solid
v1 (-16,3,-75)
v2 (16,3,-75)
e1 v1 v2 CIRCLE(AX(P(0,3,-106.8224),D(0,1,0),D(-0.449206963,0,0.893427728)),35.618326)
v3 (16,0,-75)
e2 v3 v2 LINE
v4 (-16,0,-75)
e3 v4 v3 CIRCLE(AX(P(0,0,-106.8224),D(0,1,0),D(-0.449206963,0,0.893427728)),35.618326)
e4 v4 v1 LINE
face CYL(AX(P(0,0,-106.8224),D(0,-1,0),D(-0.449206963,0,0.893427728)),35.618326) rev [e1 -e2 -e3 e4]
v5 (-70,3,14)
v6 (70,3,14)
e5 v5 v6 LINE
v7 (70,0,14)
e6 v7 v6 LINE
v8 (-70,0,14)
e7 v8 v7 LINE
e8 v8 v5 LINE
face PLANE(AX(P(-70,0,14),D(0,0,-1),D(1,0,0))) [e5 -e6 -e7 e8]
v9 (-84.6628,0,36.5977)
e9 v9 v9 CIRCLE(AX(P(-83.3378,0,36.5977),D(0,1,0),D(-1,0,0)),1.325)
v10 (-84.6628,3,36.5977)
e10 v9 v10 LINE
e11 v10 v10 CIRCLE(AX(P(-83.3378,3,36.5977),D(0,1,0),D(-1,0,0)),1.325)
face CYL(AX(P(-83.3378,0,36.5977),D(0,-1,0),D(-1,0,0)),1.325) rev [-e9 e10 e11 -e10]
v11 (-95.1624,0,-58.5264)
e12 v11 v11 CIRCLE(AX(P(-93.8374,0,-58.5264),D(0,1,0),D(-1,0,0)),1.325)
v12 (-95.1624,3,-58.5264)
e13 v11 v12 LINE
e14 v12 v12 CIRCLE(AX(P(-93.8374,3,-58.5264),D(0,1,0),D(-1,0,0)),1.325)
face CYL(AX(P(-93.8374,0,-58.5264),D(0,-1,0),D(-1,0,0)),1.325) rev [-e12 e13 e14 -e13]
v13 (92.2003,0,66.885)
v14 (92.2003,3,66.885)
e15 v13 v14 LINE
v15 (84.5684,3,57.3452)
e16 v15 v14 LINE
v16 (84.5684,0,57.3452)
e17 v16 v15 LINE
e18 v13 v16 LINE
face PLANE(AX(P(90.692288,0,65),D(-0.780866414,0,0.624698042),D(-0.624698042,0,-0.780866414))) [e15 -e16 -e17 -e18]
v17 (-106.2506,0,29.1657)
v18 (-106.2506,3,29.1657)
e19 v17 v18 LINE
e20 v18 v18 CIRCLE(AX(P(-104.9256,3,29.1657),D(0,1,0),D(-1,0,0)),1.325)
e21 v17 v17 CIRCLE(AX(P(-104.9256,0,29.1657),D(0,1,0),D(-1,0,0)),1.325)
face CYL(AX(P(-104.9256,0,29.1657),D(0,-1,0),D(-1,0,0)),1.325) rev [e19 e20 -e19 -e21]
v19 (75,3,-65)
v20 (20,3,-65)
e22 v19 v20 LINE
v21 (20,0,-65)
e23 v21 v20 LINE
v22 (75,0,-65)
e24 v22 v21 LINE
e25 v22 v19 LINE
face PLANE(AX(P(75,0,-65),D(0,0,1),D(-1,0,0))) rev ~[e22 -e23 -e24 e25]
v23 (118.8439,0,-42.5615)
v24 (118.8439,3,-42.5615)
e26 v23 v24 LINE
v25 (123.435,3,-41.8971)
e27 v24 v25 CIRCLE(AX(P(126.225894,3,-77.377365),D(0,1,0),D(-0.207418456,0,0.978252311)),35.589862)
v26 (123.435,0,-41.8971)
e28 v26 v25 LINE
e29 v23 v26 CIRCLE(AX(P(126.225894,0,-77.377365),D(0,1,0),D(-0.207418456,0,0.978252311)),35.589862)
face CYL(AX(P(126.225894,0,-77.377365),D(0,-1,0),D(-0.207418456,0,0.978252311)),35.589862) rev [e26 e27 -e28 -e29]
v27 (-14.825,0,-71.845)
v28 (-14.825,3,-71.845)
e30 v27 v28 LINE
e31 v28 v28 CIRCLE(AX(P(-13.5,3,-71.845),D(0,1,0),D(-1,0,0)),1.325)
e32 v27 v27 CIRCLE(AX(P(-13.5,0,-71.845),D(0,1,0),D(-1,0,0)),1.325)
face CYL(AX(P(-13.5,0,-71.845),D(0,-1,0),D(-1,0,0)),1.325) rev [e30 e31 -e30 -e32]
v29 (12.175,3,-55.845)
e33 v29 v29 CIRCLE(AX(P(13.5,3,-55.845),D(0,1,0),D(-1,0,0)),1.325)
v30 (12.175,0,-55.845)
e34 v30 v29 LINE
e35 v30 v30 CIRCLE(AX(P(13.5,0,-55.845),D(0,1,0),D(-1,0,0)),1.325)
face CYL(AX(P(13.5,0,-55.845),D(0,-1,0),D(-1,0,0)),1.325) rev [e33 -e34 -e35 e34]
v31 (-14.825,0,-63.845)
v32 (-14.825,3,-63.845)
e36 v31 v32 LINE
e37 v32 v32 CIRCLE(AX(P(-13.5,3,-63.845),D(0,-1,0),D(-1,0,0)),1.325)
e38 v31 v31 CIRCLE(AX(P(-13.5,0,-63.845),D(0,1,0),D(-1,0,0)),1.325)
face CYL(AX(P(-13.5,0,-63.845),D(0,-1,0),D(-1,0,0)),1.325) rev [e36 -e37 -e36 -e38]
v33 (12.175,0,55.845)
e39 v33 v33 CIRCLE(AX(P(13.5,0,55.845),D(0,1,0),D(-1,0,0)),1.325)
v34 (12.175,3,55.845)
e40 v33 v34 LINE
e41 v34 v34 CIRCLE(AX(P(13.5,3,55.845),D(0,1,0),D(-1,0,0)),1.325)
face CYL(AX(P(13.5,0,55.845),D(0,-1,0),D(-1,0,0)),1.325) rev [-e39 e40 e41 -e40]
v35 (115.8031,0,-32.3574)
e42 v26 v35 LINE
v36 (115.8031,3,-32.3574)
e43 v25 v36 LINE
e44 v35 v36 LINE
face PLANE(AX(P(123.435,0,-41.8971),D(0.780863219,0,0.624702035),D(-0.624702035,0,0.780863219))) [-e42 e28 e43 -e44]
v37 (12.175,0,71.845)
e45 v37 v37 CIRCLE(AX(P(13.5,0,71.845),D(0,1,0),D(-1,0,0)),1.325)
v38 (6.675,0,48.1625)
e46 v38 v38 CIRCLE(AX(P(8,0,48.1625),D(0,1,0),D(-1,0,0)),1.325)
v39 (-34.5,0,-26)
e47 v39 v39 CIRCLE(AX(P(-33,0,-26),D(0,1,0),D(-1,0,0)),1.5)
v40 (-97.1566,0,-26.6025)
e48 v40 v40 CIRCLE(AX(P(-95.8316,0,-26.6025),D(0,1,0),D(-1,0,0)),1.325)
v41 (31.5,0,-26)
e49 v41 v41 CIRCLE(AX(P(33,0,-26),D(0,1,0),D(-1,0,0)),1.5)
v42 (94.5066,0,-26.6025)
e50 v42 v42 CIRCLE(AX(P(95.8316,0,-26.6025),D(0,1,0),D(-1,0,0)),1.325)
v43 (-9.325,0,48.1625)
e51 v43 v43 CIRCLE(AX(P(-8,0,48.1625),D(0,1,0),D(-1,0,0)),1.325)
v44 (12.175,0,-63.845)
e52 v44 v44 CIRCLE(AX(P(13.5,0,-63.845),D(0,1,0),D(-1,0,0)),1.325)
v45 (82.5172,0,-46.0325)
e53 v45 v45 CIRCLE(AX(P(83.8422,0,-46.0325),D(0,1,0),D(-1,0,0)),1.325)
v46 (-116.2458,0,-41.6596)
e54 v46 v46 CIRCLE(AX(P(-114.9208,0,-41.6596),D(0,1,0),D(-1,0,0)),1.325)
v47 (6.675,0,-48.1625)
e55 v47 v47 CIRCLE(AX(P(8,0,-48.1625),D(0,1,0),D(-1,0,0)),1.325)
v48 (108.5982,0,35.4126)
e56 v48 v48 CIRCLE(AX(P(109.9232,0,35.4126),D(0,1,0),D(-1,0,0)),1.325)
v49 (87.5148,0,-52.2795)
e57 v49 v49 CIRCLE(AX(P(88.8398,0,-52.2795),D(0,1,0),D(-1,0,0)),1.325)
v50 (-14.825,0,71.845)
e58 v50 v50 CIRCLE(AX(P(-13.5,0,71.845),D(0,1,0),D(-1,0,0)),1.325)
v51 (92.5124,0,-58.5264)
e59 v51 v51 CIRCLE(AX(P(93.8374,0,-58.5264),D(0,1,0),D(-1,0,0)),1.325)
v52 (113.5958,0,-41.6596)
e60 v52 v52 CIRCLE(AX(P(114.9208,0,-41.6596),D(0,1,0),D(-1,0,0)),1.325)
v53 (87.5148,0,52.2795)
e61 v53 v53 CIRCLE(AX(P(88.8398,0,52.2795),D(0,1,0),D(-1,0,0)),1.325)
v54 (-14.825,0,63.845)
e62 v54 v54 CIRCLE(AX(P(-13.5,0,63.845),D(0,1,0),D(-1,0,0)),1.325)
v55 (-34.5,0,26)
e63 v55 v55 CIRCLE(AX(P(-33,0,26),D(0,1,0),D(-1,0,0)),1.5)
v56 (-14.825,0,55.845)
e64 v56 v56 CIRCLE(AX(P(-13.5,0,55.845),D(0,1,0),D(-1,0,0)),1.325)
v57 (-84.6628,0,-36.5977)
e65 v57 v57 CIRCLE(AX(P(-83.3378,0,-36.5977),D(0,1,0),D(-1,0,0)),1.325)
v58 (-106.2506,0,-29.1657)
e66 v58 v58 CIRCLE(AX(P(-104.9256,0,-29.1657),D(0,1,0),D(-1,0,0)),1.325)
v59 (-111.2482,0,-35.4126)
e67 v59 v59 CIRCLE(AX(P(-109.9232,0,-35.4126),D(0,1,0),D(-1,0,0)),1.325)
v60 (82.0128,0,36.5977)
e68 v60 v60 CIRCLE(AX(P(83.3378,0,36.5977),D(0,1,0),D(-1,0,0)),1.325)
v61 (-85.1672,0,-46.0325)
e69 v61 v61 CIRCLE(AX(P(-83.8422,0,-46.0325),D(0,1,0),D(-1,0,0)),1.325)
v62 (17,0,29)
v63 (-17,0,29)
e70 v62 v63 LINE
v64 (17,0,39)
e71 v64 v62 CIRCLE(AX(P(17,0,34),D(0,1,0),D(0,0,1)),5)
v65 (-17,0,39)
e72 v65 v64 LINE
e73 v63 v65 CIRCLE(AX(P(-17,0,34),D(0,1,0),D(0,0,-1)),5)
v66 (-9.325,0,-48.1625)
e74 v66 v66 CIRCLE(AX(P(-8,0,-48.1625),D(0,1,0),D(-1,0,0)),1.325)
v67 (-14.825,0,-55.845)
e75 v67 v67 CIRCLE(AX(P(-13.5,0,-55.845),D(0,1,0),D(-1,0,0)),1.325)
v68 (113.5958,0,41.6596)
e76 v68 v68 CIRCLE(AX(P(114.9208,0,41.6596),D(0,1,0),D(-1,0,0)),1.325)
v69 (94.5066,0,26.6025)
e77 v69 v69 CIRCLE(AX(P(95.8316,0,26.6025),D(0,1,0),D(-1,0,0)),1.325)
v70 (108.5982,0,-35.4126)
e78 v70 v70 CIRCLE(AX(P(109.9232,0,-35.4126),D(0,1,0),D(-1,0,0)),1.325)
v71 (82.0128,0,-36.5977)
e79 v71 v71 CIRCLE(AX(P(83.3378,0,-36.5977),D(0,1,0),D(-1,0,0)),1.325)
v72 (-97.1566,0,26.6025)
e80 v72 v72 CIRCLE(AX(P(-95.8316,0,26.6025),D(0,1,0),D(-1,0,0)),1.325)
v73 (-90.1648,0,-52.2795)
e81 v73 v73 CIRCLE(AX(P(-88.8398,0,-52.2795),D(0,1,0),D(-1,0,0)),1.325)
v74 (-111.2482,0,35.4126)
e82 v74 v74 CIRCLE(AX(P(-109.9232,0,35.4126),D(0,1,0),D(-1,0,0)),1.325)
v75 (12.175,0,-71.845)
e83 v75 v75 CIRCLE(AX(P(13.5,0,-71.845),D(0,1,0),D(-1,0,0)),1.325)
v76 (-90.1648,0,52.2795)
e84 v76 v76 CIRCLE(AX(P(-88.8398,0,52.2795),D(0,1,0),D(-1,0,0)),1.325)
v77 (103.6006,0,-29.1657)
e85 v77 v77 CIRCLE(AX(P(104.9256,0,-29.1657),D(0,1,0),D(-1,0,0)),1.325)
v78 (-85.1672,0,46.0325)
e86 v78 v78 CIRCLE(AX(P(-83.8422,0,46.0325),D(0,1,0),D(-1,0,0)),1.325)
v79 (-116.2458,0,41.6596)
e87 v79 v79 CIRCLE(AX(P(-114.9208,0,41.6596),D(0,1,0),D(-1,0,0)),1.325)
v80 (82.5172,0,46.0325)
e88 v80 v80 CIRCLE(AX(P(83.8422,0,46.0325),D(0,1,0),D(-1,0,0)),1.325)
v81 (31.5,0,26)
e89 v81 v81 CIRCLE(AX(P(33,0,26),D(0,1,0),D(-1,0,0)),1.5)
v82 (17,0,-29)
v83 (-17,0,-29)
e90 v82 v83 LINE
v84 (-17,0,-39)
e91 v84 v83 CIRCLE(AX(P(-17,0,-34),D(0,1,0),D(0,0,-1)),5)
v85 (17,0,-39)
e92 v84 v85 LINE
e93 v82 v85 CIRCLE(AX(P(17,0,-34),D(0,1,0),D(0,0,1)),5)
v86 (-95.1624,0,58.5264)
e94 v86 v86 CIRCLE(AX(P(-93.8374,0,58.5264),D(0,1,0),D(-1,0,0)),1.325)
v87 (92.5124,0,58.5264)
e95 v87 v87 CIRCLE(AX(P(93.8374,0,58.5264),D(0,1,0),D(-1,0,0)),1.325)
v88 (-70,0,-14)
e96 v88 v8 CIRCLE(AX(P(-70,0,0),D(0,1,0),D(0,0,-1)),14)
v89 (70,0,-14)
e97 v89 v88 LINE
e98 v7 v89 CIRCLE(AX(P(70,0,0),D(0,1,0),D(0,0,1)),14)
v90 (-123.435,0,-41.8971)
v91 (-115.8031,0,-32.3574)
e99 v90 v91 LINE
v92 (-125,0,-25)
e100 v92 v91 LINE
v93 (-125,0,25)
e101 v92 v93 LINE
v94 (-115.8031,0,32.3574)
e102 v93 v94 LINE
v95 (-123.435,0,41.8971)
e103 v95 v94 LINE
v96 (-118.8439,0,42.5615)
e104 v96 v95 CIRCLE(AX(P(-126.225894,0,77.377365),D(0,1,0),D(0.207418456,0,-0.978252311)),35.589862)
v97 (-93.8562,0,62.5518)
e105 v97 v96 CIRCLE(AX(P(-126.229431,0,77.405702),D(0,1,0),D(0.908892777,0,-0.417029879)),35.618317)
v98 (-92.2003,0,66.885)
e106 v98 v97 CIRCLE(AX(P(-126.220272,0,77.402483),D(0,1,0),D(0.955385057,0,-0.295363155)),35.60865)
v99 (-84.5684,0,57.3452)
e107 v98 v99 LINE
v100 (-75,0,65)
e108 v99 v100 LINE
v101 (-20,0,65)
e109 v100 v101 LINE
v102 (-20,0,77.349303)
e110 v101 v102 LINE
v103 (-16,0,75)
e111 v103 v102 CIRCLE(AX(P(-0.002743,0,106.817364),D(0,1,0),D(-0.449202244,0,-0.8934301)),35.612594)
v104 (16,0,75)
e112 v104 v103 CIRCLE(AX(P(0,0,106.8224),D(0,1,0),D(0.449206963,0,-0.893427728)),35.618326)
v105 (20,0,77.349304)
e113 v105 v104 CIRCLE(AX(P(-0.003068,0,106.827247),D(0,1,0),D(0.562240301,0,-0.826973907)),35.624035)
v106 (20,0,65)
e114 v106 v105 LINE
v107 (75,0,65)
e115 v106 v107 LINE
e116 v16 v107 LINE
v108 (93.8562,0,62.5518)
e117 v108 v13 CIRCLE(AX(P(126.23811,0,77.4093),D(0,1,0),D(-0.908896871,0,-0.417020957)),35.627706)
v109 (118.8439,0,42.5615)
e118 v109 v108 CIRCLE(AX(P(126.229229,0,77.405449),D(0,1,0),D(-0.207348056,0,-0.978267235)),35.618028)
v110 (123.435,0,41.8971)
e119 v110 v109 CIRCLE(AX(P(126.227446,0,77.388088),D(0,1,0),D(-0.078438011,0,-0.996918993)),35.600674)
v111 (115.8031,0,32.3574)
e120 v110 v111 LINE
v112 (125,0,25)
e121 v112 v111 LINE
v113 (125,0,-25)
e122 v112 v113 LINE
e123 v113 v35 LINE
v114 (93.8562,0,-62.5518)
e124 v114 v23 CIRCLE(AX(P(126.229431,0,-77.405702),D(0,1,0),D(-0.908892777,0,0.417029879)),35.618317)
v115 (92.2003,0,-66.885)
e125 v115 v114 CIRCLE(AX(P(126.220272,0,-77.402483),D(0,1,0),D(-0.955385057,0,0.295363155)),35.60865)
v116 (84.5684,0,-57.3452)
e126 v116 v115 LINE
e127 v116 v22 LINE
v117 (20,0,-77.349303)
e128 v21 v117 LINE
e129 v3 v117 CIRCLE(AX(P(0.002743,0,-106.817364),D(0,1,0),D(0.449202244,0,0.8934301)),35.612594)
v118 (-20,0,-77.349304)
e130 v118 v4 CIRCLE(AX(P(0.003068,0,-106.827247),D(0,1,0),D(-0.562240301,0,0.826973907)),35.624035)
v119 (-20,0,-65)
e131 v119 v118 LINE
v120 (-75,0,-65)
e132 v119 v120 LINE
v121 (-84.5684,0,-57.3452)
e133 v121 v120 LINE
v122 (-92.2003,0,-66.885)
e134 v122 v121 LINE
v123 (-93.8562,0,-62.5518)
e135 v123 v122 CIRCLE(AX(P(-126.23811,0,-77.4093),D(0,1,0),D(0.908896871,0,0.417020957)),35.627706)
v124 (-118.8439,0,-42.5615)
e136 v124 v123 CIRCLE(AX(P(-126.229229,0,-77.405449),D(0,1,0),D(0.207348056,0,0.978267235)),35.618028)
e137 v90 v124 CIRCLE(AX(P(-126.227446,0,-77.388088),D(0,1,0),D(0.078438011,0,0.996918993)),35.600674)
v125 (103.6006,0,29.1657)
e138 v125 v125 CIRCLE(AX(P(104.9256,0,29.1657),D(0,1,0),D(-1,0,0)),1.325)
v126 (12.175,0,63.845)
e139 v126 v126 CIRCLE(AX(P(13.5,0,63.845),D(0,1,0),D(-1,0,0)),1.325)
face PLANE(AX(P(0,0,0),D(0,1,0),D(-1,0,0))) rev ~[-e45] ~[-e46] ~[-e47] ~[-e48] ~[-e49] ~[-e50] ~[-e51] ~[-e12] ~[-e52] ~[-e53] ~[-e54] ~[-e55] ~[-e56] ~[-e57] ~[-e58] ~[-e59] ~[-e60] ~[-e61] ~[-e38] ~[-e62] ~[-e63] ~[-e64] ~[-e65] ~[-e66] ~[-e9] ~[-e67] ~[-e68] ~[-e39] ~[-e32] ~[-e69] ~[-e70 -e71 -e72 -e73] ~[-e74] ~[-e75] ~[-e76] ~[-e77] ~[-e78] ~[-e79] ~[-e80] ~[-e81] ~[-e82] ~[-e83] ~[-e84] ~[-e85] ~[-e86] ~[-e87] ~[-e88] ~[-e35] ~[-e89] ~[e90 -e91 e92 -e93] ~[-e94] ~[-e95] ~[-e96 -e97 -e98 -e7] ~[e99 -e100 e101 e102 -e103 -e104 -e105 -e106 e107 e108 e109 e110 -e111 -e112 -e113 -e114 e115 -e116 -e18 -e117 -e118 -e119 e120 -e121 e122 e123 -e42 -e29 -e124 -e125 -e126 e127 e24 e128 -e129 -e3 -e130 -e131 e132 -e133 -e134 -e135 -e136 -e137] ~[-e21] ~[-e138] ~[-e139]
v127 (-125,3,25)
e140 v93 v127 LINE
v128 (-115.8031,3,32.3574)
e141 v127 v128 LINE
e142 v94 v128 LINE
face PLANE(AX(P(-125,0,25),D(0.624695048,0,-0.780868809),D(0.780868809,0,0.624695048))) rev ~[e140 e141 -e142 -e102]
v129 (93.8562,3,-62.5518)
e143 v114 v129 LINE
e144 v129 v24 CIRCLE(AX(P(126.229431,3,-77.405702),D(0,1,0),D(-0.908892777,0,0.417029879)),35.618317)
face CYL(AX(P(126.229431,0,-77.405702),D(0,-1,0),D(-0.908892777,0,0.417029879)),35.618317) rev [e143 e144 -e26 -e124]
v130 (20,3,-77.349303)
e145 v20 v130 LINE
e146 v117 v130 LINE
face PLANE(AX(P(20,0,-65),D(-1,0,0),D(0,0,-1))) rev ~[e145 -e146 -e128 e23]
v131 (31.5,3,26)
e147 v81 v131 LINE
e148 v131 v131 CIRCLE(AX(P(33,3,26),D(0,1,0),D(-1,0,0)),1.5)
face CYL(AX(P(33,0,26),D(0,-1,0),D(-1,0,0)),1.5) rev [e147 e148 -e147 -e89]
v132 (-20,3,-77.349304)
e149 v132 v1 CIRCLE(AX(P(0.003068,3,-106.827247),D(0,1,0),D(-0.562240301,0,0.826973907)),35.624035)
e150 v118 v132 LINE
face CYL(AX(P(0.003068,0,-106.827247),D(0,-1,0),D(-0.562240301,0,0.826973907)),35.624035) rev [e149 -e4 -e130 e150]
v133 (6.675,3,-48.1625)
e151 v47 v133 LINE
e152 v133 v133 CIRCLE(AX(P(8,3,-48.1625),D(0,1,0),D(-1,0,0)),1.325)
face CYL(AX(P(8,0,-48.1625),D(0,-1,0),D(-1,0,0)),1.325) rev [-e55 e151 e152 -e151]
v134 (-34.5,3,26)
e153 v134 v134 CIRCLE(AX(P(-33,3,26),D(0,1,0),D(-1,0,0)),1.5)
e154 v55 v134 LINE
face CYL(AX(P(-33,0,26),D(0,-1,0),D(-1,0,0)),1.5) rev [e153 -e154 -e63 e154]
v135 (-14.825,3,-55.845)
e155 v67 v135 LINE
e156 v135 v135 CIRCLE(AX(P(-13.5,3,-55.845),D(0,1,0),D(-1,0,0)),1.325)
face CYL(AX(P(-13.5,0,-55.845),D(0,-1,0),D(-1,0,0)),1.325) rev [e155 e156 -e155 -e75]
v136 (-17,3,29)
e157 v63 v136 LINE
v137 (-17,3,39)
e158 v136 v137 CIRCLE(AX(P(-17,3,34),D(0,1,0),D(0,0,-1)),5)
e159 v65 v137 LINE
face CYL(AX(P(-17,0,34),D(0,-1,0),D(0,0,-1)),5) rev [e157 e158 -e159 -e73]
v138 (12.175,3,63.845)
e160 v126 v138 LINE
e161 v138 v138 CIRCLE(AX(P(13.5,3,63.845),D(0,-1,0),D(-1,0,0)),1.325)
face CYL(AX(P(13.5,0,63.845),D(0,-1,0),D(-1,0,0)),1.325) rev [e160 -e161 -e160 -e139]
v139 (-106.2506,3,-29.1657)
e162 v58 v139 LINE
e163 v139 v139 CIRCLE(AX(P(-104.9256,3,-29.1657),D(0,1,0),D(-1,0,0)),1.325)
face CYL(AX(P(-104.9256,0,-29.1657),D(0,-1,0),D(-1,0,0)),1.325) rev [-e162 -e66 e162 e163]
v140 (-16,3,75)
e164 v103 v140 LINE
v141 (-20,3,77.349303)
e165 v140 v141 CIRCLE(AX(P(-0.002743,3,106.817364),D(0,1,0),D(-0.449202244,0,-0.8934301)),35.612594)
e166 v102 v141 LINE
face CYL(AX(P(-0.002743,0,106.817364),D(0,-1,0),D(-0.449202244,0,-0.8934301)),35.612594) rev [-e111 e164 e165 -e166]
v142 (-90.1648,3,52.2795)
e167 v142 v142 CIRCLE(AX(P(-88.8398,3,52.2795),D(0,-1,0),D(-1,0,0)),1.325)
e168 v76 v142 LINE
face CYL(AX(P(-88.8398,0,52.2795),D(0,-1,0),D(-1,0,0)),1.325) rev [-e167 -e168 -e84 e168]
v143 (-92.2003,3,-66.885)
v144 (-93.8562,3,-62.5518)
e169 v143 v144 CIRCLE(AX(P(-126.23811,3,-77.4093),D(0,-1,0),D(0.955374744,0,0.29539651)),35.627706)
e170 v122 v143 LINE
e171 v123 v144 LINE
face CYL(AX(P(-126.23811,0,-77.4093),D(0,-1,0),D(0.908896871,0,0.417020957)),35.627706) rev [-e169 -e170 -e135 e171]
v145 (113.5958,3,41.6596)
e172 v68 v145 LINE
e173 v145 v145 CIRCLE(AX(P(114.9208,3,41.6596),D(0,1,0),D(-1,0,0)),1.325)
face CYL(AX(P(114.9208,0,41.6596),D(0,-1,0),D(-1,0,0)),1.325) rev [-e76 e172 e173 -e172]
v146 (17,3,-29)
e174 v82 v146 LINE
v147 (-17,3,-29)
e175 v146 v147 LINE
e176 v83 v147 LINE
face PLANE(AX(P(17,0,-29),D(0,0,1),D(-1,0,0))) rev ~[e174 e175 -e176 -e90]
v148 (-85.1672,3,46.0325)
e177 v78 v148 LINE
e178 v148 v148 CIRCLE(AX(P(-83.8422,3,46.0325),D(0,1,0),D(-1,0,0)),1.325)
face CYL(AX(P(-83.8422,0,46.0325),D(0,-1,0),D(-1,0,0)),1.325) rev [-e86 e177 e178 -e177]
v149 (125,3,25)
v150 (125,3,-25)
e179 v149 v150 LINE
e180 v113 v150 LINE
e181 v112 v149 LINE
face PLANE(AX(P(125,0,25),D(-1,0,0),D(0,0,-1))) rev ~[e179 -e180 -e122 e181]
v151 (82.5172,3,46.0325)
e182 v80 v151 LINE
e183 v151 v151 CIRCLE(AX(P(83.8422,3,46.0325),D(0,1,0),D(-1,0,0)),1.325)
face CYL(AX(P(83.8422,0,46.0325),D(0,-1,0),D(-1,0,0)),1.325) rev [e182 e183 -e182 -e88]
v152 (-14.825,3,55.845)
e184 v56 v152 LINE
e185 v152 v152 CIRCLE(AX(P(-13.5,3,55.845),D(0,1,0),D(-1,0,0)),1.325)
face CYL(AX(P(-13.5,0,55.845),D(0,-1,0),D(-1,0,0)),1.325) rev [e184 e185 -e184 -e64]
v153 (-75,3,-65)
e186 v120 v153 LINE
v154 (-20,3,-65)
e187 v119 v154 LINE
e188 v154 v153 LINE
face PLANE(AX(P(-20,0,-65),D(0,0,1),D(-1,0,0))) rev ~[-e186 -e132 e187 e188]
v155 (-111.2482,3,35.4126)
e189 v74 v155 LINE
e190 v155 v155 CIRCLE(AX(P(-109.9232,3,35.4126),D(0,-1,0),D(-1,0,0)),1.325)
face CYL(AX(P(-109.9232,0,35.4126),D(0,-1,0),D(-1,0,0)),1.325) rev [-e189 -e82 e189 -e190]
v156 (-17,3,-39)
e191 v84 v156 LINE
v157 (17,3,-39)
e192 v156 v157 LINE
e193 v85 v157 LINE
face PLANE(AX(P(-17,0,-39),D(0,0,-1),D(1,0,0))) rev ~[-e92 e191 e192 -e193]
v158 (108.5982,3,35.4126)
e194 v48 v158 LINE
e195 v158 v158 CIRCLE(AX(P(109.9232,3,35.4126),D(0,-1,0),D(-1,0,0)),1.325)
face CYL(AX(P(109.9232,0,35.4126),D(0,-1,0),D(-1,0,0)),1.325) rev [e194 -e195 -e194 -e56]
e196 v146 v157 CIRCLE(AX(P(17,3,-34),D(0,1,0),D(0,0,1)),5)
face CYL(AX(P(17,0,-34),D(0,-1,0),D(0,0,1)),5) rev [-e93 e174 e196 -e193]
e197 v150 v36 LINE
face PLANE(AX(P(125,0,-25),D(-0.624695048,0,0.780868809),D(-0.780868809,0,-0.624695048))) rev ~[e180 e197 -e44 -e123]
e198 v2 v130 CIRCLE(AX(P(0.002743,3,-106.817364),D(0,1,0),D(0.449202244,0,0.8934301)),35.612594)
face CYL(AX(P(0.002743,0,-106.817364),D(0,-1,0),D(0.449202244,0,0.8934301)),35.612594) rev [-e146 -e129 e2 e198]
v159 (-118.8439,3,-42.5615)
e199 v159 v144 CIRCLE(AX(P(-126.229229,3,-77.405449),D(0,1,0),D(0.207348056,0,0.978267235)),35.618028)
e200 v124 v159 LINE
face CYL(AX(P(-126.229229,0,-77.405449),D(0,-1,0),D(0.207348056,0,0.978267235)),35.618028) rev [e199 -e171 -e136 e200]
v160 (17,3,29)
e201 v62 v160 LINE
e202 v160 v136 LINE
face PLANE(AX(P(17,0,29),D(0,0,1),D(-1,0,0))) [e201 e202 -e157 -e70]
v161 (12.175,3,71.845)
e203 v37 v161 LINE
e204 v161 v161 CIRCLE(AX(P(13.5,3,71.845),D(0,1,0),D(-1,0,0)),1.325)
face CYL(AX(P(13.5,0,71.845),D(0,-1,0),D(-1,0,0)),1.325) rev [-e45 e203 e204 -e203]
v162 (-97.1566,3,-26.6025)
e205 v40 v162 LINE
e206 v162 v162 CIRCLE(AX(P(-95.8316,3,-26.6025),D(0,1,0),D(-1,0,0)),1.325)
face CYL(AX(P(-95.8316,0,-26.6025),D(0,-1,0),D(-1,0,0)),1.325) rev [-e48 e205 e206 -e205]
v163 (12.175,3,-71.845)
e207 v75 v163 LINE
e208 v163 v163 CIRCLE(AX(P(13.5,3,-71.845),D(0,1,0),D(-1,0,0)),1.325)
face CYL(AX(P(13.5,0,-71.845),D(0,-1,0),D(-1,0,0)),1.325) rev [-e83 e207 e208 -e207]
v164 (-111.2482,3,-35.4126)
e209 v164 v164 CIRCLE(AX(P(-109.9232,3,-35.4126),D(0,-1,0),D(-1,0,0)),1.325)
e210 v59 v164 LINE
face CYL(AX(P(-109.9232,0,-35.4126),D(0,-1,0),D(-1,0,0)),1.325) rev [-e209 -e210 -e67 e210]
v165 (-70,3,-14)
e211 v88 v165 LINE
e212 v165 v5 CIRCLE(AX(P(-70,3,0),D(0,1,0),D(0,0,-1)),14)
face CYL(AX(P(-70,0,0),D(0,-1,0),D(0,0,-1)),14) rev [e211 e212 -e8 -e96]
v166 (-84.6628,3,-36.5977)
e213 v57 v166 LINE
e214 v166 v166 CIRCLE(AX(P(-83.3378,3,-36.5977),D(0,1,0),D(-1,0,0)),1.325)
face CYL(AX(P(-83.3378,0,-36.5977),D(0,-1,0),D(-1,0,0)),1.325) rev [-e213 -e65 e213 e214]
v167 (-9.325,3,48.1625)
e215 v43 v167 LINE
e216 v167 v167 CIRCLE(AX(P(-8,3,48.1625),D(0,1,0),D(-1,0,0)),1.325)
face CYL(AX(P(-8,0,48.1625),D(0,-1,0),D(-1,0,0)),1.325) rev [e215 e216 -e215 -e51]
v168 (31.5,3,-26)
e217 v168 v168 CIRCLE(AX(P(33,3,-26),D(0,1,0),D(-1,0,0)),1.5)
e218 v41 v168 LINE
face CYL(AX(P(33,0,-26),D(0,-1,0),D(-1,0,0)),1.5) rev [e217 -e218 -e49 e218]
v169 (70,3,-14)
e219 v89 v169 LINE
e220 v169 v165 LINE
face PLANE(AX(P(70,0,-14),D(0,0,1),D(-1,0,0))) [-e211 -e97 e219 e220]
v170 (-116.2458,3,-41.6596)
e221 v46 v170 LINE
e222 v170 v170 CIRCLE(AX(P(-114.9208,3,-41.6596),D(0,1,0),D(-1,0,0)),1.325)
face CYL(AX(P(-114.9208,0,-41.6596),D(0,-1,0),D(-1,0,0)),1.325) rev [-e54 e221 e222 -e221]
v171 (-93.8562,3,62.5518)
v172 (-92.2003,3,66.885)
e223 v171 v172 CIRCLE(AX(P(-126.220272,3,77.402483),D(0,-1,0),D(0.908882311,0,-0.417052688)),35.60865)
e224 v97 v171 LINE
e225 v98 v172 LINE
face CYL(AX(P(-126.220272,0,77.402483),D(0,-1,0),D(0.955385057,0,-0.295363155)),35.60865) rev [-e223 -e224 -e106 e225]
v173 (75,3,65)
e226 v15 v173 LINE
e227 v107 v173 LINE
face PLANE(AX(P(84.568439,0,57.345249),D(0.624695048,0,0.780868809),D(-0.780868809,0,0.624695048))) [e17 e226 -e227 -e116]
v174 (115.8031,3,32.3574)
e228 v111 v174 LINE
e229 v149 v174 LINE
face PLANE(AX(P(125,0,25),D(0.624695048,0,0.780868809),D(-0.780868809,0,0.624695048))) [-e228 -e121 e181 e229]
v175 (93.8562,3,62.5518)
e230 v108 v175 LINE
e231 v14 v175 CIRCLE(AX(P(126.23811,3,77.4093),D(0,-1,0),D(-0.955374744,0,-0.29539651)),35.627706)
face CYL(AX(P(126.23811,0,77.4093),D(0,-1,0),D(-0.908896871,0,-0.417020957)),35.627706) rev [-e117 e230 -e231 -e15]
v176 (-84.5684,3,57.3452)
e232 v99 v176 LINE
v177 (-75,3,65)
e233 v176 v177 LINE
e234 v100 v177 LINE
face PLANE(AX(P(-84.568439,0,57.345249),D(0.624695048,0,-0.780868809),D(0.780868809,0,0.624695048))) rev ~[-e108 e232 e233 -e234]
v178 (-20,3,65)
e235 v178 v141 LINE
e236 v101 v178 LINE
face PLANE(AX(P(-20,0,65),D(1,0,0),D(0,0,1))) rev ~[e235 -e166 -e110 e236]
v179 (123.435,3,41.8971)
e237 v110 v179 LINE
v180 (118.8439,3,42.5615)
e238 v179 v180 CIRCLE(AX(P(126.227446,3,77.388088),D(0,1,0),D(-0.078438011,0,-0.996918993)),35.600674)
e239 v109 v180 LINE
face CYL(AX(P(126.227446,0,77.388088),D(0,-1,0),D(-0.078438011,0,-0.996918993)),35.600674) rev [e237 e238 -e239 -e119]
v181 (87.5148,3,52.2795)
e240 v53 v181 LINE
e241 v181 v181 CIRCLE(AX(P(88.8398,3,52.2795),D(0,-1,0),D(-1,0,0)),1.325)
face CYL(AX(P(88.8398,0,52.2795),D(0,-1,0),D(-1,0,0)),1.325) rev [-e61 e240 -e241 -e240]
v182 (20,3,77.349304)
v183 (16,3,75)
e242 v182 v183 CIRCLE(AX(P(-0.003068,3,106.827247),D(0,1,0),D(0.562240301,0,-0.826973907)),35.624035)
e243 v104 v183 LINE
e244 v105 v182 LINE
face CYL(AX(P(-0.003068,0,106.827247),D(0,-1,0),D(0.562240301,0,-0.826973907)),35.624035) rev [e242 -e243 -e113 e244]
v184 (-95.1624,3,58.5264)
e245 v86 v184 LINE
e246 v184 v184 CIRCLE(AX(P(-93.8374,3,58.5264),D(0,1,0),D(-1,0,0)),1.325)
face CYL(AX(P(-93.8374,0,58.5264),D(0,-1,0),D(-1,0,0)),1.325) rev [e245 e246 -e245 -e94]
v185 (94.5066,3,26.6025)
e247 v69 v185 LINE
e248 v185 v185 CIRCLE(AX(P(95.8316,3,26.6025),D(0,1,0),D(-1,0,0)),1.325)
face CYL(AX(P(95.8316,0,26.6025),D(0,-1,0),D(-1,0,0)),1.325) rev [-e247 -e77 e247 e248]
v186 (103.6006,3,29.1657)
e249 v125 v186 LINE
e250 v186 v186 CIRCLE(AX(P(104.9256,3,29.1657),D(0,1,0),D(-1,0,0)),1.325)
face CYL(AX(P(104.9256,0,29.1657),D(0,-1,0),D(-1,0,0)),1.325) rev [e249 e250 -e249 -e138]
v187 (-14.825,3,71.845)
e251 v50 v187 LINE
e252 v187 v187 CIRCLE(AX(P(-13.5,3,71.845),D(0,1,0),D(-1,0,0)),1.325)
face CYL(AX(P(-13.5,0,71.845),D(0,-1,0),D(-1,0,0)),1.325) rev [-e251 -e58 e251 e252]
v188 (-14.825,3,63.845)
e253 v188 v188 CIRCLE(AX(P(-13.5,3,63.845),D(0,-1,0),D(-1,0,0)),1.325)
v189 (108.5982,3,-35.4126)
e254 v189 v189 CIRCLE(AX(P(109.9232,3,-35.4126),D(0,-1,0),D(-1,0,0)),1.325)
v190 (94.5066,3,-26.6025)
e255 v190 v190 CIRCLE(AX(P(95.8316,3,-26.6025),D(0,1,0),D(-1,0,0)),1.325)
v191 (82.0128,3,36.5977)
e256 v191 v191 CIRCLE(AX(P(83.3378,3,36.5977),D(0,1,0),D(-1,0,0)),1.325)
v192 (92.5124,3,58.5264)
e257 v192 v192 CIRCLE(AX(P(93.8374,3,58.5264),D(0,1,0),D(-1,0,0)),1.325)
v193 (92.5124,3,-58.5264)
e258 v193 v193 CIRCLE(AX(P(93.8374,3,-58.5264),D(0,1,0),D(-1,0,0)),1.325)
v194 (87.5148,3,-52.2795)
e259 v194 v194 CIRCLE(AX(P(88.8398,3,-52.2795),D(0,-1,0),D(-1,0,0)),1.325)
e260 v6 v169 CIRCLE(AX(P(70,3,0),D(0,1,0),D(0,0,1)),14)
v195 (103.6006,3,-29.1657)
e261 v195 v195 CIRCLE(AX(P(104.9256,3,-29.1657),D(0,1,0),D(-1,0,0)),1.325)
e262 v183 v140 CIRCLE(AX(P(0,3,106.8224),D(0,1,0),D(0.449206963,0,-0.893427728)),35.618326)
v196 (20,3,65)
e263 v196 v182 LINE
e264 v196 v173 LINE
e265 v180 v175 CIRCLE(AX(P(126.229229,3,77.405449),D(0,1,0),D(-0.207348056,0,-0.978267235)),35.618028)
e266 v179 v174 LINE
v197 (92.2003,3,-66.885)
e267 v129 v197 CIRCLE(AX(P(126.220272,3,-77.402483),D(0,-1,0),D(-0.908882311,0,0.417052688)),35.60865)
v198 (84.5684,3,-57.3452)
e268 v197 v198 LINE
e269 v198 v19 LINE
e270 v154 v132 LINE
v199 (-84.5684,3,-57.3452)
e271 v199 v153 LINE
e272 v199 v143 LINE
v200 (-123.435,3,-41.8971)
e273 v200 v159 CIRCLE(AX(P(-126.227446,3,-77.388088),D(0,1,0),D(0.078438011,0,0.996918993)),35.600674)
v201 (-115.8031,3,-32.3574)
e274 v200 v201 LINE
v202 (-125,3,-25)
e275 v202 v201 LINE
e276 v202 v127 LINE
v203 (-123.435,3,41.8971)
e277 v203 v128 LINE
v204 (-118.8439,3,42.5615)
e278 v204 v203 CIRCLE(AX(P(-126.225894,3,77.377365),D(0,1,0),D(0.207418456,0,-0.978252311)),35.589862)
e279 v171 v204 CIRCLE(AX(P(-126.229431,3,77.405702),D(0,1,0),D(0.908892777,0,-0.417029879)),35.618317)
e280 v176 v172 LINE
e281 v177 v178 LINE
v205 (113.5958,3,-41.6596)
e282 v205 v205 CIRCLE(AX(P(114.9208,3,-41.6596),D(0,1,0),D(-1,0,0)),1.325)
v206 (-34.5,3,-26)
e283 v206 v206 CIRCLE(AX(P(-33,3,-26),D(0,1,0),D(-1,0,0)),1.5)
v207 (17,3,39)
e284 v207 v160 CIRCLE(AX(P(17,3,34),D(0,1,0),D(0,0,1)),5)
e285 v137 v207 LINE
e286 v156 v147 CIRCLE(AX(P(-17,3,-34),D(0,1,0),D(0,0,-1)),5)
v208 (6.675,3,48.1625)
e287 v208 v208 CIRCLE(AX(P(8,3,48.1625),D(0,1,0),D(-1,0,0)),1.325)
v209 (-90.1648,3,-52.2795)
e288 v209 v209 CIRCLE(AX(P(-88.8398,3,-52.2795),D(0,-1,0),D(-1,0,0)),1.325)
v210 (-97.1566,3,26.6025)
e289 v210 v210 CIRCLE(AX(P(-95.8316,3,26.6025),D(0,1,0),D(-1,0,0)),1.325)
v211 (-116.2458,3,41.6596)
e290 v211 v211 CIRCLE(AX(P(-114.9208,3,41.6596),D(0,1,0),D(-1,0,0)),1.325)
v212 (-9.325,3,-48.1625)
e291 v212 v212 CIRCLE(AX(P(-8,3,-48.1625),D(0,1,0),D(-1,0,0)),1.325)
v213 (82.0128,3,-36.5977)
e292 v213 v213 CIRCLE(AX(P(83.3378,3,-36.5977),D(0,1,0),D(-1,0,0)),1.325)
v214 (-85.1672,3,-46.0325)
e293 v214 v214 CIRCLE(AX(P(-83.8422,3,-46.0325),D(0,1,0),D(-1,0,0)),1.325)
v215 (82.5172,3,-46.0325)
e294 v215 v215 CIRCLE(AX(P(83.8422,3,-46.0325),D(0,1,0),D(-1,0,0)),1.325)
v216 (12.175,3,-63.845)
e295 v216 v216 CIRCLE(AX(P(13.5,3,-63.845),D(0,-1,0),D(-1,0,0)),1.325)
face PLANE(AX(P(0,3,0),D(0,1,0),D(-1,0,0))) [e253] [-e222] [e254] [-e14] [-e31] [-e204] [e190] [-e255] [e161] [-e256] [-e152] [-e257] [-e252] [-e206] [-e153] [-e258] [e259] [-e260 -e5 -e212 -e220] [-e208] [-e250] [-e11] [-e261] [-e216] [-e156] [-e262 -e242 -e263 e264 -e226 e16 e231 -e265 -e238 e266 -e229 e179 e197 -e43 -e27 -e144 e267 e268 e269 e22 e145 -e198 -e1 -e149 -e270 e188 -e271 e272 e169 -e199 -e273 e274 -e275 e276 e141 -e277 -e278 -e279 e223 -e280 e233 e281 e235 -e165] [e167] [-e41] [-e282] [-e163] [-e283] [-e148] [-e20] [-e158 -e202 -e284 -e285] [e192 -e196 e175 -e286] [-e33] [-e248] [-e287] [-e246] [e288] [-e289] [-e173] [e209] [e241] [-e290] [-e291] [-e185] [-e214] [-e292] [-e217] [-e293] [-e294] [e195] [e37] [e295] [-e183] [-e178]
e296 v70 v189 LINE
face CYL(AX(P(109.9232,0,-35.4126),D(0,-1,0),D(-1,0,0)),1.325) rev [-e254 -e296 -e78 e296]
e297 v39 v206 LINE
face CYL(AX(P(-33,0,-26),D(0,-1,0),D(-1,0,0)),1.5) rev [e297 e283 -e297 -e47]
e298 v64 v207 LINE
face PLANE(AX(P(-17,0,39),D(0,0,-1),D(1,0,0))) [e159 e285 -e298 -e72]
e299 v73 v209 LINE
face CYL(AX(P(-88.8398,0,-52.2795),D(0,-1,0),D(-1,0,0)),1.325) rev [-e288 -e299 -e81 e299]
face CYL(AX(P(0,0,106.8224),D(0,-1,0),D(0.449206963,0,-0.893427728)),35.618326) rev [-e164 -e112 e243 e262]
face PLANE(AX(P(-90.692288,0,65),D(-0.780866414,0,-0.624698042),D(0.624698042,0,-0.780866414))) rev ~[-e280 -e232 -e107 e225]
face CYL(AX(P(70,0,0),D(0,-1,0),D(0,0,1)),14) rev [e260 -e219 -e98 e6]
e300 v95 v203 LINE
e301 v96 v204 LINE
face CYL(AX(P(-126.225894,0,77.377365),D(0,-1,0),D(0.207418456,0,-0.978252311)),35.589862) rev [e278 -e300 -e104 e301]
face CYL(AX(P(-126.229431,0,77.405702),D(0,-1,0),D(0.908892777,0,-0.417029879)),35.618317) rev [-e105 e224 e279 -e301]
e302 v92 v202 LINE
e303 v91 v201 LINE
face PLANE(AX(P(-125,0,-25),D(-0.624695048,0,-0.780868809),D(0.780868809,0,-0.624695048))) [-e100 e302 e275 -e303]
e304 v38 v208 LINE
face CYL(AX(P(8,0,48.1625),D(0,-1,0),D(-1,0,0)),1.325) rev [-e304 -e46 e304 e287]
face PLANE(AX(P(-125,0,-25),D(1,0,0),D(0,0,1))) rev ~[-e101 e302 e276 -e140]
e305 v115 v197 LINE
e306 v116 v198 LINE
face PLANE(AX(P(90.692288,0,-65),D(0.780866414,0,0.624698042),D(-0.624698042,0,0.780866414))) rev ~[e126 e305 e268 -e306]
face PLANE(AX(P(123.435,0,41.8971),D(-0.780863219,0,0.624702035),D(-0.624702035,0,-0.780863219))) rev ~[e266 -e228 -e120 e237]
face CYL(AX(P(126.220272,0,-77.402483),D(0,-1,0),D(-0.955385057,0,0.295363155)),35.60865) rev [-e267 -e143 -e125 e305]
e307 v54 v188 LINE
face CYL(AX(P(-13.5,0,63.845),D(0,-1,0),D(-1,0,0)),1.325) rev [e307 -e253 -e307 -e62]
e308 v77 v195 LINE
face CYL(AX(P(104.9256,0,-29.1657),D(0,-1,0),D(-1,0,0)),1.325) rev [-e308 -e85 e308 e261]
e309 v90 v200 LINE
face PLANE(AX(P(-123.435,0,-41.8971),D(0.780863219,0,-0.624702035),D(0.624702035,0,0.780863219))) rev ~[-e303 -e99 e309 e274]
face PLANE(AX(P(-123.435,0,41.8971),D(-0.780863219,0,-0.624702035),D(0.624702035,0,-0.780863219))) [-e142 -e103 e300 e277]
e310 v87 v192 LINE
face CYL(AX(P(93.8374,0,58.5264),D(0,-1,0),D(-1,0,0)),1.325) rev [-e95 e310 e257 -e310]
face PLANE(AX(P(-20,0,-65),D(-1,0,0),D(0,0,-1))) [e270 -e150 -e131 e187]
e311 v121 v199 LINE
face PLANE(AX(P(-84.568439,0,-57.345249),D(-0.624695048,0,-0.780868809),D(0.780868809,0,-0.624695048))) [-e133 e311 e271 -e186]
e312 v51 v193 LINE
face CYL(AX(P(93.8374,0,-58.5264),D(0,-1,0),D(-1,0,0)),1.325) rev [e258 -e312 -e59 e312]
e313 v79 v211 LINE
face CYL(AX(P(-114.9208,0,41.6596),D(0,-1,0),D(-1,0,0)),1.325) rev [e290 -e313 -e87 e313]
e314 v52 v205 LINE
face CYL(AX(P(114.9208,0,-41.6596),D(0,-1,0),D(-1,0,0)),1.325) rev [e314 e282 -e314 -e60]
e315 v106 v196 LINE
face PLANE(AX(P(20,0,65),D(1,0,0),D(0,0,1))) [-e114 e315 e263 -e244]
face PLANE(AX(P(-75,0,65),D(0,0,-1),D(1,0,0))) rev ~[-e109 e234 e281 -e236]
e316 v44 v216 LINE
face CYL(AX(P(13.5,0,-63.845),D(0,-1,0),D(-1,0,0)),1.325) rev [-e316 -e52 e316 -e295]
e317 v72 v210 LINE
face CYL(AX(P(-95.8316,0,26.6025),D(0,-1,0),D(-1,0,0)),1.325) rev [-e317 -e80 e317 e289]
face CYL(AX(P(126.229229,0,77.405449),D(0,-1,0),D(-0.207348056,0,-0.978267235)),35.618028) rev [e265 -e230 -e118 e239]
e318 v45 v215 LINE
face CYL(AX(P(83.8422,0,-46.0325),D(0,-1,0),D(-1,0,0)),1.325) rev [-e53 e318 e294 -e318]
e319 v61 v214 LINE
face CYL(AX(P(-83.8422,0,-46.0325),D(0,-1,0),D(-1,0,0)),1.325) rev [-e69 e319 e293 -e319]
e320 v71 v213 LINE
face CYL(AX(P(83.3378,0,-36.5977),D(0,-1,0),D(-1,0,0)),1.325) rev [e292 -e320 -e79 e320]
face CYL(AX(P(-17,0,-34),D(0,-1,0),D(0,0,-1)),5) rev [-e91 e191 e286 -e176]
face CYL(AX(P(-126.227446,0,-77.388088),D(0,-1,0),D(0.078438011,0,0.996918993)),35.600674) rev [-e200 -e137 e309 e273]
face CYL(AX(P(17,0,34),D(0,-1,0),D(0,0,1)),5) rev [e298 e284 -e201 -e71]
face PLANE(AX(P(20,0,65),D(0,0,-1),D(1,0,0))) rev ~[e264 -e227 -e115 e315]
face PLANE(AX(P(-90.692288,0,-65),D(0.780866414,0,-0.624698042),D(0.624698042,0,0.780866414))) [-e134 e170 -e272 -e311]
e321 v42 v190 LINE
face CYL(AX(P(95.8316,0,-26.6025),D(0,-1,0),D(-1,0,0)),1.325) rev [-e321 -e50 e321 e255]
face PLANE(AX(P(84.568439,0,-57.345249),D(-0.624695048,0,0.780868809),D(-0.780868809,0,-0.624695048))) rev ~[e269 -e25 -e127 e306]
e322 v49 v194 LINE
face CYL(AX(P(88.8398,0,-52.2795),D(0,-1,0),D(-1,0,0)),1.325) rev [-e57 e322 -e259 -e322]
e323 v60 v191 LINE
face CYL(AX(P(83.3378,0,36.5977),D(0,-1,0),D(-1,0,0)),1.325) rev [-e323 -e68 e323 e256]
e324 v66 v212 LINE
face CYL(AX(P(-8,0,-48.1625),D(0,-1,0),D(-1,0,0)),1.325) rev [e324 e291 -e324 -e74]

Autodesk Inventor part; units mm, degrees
ref_plane "YZ Plane" through (0, 0, 0) normal (1, 0, 0) x (0, 1, 0)
ref_plane "XZ Plane" through (0, 0, 0) normal (0, 1, 0) x (-1, 0, 0)
ref_plane "XY Plane" through (0, 0, 0) normal (0, 0, 1) x (1, 0, 0)
sketch "Sketch1" plane through (0, 0, 0) normal (0, 1, 0) x (-1, 0, 0)
  line L0 (125, 65) -> (-125, 65)
  line L1 (-125, 65) -> (-125, -65)
  line L2 (-125, -65) -> (125, -65)
  line L3 (125, -65) -> (125, 65)
  line L4 (125, -65) -> (-125, 65) construction
  line L5 (125, 65) -> (-125, -65) construction
  line L6 (16, 65) -> (-16, 65)
  line L7 (-16, 65) -> (-16, 75)
  line L8 (16, 75) -> (16, 65)
  circle A0 centre (13.5, 55.845) radius 1.325
  circle A1 centre (-13.5, 55.845) radius 1.325
  circle A2 centre (8, 48.1625) radius 1.325
  circle A3 centre (-8, 48.1625) radius 1.325
  circle A4 centre (13.5, 63.845) radius 1.325
  circle A5 centre (-13.5, 63.845) radius 1.325
  circle A6 centre (13.5, 71.845) radius 1.325
  circle A7 centre (-13.5, 71.845) radius 1.325
  arc A8 (-16, 75) -> (16, 75) centre (0, 106.8224) ccw
  line L9 (125, 0) -> (-125, 0) construction
  line L10 (-125, -25) -> (-75, -65)
  line L11 (0, -65) -> (0, 65) construction
  line L12 (-125, 25) -> (-75, 65)
  line L13 (125, -25) -> (75, -65)
  line L14 (125, 25) -> (75, 65)
  line L15 (-16, -65) -> (-16, -75)
  line L16 (16, -75) -> (16, -65)
  circle A9 centre (13.5, -55.845) radius 1.325
  circle A10 centre (-13.5, -55.845) radius 1.325
  circle A11 centre (8, -48.1625) radius 1.325
  circle A12 centre (-8, -48.1625) radius 1.325
  circle A13 centre (13.5, -63.845) radius 1.325
  circle A14 centre (-13.5, -63.845) radius 1.325
  circle A15 centre (13.5, -71.845) radius 1.325
  circle A16 centre (-13.5, -71.845) radius 1.325
  arc A17 (16, -75) -> (-16, -75) centre (0, -106.8224) ccw
  circle A18 centre (-83.3378, -36.5977) radius 1.325
  circle A19 centre (-83.8422, -46.0325) radius 1.325
  circle A20 centre (-88.8398, -52.2795) radius 1.325
  circle A21 centre (-93.8374, -58.5264) radius 1.325
  arc A22 (-93.8562, -62.5518) -> (-118.8439, -42.5615) centre (-126.2293, -77.4056) ccw
  circle A23 centre (-114.9208, -41.6596) radius 1.325
  circle A24 centre (-109.9232, -35.4126) radius 1.325
  circle A25 centre (-104.9256, -29.1657) radius 1.325
  circle A26 centre (-95.8316, -26.6025) radius 1.325
  line L17 (-83.3378, -36.5977) -> (-95.8316, -26.6025) construction
  line L18 (-88.8398, -52.2795) -> (-109.9232, -35.4126) construction
  line L19 (-89.5847, -31.6001) -> (-99.3815, -43.846) construction
  line L20 (-83.8422, -46.0325) -> (-104.9256, -29.1657) construction
  line L21 (-93.8374, -58.5264) -> (-114.9208, -41.6596) construction
  line L22 (-99.3815, -43.846) -> (-103.9787, -49.5925) construction
  line L23 (-104.3791, -50.093) -> (-103.9787, -49.5925) construction
  circle A27 centre (-83.3378, 36.5977) radius 1.325
  circle A28 centre (-83.8422, 46.0325) radius 1.325
  circle A29 centre (-88.8398, 52.2795) radius 1.325
  circle A30 centre (-93.8374, 58.5264) radius 1.325
  arc A31 (-118.8439, 42.5615) -> (-93.8562, 62.5518) centre (-126.2293, 77.4056) ccw
  circle A32 centre (-114.9208, 41.6596) radius 1.325
  circle A33 centre (-109.9232, 35.4126) radius 1.325
  circle A34 centre (-104.9256, 29.1657) radius 1.325
  circle A35 centre (-95.8316, 26.6025) radius 1.325
  line L24 (-83.3378, 36.5977) -> (-95.8316, 26.6025) construction
  line L25 (-88.8398, 52.2795) -> (-109.9232, 35.4126) construction
  line L26 (-89.5847, 31.6001) -> (-99.3815, 43.846) construction
  line L27 (-83.8422, 46.0325) -> (-104.9256, 29.1657) construction
  line L28 (-93.8374, 58.5264) -> (-114.9208, 41.6596) construction
  line L29 (-99.3815, 43.846) -> (-103.9787, 49.5925) construction
  line L30 (-104.3791, 50.093) -> (-103.9787, 49.5925) construction
  circle A36 centre (83.3378, -36.5977) radius 1.325
  circle A37 centre (83.8422, -46.0325) radius 1.325
  circle A38 centre (88.8398, -52.2795) radius 1.325
  circle A39 centre (93.8374, -58.5264) radius 1.325
  arc A40 (118.8439, -42.5615) -> (93.8562, -62.5518) centre (126.2293, -77.4056) ccw
  circle A41 centre (114.9208, -41.6596) radius 1.325
  circle A42 centre (109.9232, -35.4126) radius 1.325
  circle A43 centre (104.9256, -29.1657) radius 1.325
  circle A44 centre (95.8316, -26.6025) radius 1.325
  line L31 (83.3378, -36.5977) -> (95.8316, -26.6025) construction
  line L32 (88.8398, -52.2795) -> (109.9232, -35.4126) construction
  line L33 (83.8422, -46.0325) -> (104.9256, -29.1657) construction
  line L34 (93.8374, -58.5264) -> (114.9208, -41.6596) construction
  line L35 (99.3815, -43.846) -> (103.9787, -49.5925) construction
  line L36 (104.3791, -50.093) -> (103.9787, -49.5925) construction
  circle A45 centre (83.3378, 36.5977) radius 1.325
  circle A46 centre (95.8316, 26.6025) radius 1.325
  line L37 (83.3378, 36.5977) -> (95.8316, 26.6025) construction
  line L38 (89.5847, 31.6001) -> (99.3815, 43.846) construction
  line L39 (83.8422, 46.0325) -> (104.9256, 29.1657) construction
  line L40 (88.8398, 52.2795) -> (109.9232, 35.4126) construction
  line L41 (93.8374, 58.5264) -> (114.9208, 41.6596) construction
  line L42 (99.3815, 43.846) -> (103.9787, 49.5925) construction
  line L43 (104.3791, 50.093) -> (103.9787, 49.5925) construction
  arc A47 (93.8562, 62.5518) -> (118.8439, 42.5615) centre (126.2293, 77.4056) ccw
  circle A48 centre (114.9208, 41.6596) radius 1.325
  circle A49 centre (109.9232, 35.4126) radius 1.325
  circle A50 centre (104.9256, 29.1657) radius 1.325
  circle A51 centre (83.8422, 46.0325) radius 1.325
  circle A52 centre (88.8398, 52.2795) radius 1.325
  circle A53 centre (93.8374, 58.5264) radius 1.325
  line L44 (99.3815, -43.846) -> (89.5847, -31.6001) construction
  line L45 (93.8562, 62.5518) -> (87.6919, 54.8465)
  line L46 (118.8439, 42.5615) -> (112.6797, 34.8562)
  line L47 (118.8439, -42.5615) -> (112.6797, -34.8562)
  line L48 (93.8562, -62.5518) -> (87.6919, -54.8465)
  line L49 (-118.8439, -42.5615) -> (-112.6797, -34.8562)
  line L50 (-93.8562, -62.5518) -> (-87.6919, -54.8465)
  line L51 (-93.8562, 62.5518) -> (-87.6919, 54.8465)
  line L52 (-118.8439, 42.5615) -> (-112.6797, 34.8562)
  line L53 (-20, 65) -> (-20, 77.4056)
  arc A54 (-20.0262, 77.3671) -> (-16, 75) centre (0, 106.8224) ccw
  line L54 (0, 106.8224) -> (0, 65) construction
  line L55 (20, 65) -> (20, 77.4056)
  arc A55 (16, 75) -> (20.0262, 77.3671) centre (0, 106.8224) ccw
  line L56 (-20, -65) -> (-20, -77.4056)
  arc A56 (-16, -75) -> (-20.0262, -77.3671) centre (0, -106.8224) ccw
  line L57 (20, -65) -> (20, -77.4056)
  arc A57 (20.0262, -77.3671) -> (16, -75) centre (0, -106.8224) ccw
  arc A58 (-92.2003, -66.885) -> (-93.8562, -62.5518) centre (-126.2293, -77.4056) ccw
  line L58 (-92.2003, -66.885) -> (-84.5684, -57.3452)
  arc A59 (-118.8439, -42.5614) -> (-123.435, -41.8971) centre (-126.2294, -77.4056) ccw
  line L59 (-123.435, -41.8971) -> (-115.8031, -32.3574)
  arc A60 (-93.8562, 62.5518) -> (-92.2003, 66.885) centre (-126.2293, 77.4056) ccw
  line L60 (-92.2003, 66.885) -> (-84.5684, 57.3452)
  line L61 (-123.435, 41.8971) -> (-115.8031, 32.3574)
  arc A61 (-123.435, 41.8971) -> (-118.8439, 42.5614) centre (-126.2294, 77.4056) ccw
  arc A62 (93.8562, -62.5518) -> (92.2003, -66.885) centre (126.2293, -77.4056) ccw
  line L62 (92.2003, -66.885) -> (84.5684, -57.3452)
  line L63 (123.435, -41.8971) -> (115.8031, -32.3574)
  arc A63 (123.435, -41.8971) -> (118.8439, -42.5614) centre (126.2294, -77.4056) ccw
  line L64 (92.2003, 66.885) -> (84.5684, 57.3452)
  arc A64 (92.2003, 66.885) -> (93.8562, 62.5518) centre (126.2293, 77.4056) ccw
  line L65 (123.435, 41.8971) -> (115.8031, 32.3574)
  arc A65 (118.8439, 42.5614) -> (123.435, 41.8971) centre (126.2294, 77.4056) ccw
  line L66 (92.5, 0) -> (-92.5, 0) construction
  circle A66 centre (33, 26) radius 1.5
  circle A67 centre (33, -26) radius 1.5
  circle A68 centre (-33, 26) radius 1.5
  circle A69 centre (-33, -26) radius 1.5
  line L67 (84, 0) -> (-84, 0) construction
  line L68 (70, 14) -> (-70, 14)
  line L69 (-70, -14) -> (70, -14)
  arc A70 (70, -14) -> (70, 14) centre (70, 0) ccw
  arc A71 (-70, 14) -> (-70, -14) centre (-70, 0) ccw
  line L70 (22, -34) -> (-22, -34) construction
  line L71 (17, -39) -> (-17, -39)
  line L72 (-17, -29) -> (17, -29)
  arc A72 (17, -39) -> (17, -29) centre (17, -34) ccw
  arc A73 (-17, -29) -> (-17, -39) centre (-17, -34) ccw
  line L73 (17, 39) -> (-17, 39)
  line L74 (-17, 29) -> (17, 29)
  arc A74 (17, 29) -> (17, 39) centre (17, 34) ccw
  arc A75 (-17, 39) -> (-17, 29) centre (-17, 34) ccw
  point P0 (0, 0)
  point P1 (0, 0)
  point P2 (-16, 70)
  point P3 (115.8031, 32.3575)
  point P4 (118.8439, 42.5615)
  point P5 (118.8439, -42.5615)
  point P6 (115.8031, -32.3575)
  point P7 (-20, -77.3493)
  point P8 (20, -77.3493)
  point P9 (-118.8439, -42.5615)
  point P10 (-115.8031, -32.3575)
  point P11 (-118.8439, 42.5615)
  point P12 (-115.8031, 32.3575)
  point P13 (-20, 77.3493)
  point P14 (20, 77.3493)
  point P15 (0, 28)
  point P16 (0, 0)
  point P17 (0, 0)
  point P18 (0, -34)
  dimension "d0" = 250
  dimension "d1" = 130
  dimension "d2" = 32
  dimension "d4" = 2.65
  dimension "d5" = 2.65
  dimension "d6" = 2.65
  dimension "d7" = 2.65
  dimension "d8" = 16
  dimension "d9" = 5.5
  dimension "d10" = 5.5
  dimension "d11" = 2.5
  dimension "d12" = 2.5
  dimension "d13" = 2.65
  dimension "d14" = 2.65
  dimension "d15" = 2.65
  dimension "d16" = 2.65
  dimension "d18" = 8
  dimension "d19" = 8
  dimension "d20" = 8
  dimension "d21" = 8
  dimension "d22" = 25
  dimension "d23" = 50
  dimension "d28" = 13.5
  dimension "d29" = 4
  dimension "d41" = 3
  dimension "d42" = 26
  dimension "d43" = 33
  dimension "d44" = 28
  dimension "d45" = 55
  dimension "d46" = 55
  dimension "d47" = 34
  dimension "d48" = 108
  dimension "d49" = 108
  dimension "d50" = 5
  dimension "d51" = 2.65
  dimension "d52" = 2.65
  dimension "d53" = 2.65
  dimension "d54" = 2.65
  dimension "d55" = 2.65
  dimension "d56" = 2.65
  dimension "d57" = 2.65
  dimension "d58" = 2.65
extrude "Extrusion1" add sketch "Sketch1" along normal blind 3 contours L14 A52 A49 L3 L13 A42 A38 L2 A13 A14 L10 A20 A24 L1 L12 A33 A29 L0 A5 A4 | L0 L8 A55 L55 | L64 A64 L0 | L0 A64 L45 L14 L64 | L0 A4 A5 L7 A8 L8 | L45 A47 L46 L14 A49 A52 | L7 L0 L53 A54 | A65 L65 L14 L46 | L63 A63 L47 L13 | A62 L62 L2 | L2 L62 L13 L48 A62 | L47 A40 L48 L13 A38 A42 | L60 L12 L51 A60 L0 | L0 A60 L60 | L12 A29 A33 L52 A31 L51 | L57 A57 L16 L2 | L52 L12 L61 A61 | L16 A17 L15 L2 A14 A13 | L10 L49 A59 L59 | A56 L56 L2 L15 | A58 L50 L10 L58 L2 | L2 L58 A58 | L10 A24 A20 L50 A22 L49
properties part number "base"
